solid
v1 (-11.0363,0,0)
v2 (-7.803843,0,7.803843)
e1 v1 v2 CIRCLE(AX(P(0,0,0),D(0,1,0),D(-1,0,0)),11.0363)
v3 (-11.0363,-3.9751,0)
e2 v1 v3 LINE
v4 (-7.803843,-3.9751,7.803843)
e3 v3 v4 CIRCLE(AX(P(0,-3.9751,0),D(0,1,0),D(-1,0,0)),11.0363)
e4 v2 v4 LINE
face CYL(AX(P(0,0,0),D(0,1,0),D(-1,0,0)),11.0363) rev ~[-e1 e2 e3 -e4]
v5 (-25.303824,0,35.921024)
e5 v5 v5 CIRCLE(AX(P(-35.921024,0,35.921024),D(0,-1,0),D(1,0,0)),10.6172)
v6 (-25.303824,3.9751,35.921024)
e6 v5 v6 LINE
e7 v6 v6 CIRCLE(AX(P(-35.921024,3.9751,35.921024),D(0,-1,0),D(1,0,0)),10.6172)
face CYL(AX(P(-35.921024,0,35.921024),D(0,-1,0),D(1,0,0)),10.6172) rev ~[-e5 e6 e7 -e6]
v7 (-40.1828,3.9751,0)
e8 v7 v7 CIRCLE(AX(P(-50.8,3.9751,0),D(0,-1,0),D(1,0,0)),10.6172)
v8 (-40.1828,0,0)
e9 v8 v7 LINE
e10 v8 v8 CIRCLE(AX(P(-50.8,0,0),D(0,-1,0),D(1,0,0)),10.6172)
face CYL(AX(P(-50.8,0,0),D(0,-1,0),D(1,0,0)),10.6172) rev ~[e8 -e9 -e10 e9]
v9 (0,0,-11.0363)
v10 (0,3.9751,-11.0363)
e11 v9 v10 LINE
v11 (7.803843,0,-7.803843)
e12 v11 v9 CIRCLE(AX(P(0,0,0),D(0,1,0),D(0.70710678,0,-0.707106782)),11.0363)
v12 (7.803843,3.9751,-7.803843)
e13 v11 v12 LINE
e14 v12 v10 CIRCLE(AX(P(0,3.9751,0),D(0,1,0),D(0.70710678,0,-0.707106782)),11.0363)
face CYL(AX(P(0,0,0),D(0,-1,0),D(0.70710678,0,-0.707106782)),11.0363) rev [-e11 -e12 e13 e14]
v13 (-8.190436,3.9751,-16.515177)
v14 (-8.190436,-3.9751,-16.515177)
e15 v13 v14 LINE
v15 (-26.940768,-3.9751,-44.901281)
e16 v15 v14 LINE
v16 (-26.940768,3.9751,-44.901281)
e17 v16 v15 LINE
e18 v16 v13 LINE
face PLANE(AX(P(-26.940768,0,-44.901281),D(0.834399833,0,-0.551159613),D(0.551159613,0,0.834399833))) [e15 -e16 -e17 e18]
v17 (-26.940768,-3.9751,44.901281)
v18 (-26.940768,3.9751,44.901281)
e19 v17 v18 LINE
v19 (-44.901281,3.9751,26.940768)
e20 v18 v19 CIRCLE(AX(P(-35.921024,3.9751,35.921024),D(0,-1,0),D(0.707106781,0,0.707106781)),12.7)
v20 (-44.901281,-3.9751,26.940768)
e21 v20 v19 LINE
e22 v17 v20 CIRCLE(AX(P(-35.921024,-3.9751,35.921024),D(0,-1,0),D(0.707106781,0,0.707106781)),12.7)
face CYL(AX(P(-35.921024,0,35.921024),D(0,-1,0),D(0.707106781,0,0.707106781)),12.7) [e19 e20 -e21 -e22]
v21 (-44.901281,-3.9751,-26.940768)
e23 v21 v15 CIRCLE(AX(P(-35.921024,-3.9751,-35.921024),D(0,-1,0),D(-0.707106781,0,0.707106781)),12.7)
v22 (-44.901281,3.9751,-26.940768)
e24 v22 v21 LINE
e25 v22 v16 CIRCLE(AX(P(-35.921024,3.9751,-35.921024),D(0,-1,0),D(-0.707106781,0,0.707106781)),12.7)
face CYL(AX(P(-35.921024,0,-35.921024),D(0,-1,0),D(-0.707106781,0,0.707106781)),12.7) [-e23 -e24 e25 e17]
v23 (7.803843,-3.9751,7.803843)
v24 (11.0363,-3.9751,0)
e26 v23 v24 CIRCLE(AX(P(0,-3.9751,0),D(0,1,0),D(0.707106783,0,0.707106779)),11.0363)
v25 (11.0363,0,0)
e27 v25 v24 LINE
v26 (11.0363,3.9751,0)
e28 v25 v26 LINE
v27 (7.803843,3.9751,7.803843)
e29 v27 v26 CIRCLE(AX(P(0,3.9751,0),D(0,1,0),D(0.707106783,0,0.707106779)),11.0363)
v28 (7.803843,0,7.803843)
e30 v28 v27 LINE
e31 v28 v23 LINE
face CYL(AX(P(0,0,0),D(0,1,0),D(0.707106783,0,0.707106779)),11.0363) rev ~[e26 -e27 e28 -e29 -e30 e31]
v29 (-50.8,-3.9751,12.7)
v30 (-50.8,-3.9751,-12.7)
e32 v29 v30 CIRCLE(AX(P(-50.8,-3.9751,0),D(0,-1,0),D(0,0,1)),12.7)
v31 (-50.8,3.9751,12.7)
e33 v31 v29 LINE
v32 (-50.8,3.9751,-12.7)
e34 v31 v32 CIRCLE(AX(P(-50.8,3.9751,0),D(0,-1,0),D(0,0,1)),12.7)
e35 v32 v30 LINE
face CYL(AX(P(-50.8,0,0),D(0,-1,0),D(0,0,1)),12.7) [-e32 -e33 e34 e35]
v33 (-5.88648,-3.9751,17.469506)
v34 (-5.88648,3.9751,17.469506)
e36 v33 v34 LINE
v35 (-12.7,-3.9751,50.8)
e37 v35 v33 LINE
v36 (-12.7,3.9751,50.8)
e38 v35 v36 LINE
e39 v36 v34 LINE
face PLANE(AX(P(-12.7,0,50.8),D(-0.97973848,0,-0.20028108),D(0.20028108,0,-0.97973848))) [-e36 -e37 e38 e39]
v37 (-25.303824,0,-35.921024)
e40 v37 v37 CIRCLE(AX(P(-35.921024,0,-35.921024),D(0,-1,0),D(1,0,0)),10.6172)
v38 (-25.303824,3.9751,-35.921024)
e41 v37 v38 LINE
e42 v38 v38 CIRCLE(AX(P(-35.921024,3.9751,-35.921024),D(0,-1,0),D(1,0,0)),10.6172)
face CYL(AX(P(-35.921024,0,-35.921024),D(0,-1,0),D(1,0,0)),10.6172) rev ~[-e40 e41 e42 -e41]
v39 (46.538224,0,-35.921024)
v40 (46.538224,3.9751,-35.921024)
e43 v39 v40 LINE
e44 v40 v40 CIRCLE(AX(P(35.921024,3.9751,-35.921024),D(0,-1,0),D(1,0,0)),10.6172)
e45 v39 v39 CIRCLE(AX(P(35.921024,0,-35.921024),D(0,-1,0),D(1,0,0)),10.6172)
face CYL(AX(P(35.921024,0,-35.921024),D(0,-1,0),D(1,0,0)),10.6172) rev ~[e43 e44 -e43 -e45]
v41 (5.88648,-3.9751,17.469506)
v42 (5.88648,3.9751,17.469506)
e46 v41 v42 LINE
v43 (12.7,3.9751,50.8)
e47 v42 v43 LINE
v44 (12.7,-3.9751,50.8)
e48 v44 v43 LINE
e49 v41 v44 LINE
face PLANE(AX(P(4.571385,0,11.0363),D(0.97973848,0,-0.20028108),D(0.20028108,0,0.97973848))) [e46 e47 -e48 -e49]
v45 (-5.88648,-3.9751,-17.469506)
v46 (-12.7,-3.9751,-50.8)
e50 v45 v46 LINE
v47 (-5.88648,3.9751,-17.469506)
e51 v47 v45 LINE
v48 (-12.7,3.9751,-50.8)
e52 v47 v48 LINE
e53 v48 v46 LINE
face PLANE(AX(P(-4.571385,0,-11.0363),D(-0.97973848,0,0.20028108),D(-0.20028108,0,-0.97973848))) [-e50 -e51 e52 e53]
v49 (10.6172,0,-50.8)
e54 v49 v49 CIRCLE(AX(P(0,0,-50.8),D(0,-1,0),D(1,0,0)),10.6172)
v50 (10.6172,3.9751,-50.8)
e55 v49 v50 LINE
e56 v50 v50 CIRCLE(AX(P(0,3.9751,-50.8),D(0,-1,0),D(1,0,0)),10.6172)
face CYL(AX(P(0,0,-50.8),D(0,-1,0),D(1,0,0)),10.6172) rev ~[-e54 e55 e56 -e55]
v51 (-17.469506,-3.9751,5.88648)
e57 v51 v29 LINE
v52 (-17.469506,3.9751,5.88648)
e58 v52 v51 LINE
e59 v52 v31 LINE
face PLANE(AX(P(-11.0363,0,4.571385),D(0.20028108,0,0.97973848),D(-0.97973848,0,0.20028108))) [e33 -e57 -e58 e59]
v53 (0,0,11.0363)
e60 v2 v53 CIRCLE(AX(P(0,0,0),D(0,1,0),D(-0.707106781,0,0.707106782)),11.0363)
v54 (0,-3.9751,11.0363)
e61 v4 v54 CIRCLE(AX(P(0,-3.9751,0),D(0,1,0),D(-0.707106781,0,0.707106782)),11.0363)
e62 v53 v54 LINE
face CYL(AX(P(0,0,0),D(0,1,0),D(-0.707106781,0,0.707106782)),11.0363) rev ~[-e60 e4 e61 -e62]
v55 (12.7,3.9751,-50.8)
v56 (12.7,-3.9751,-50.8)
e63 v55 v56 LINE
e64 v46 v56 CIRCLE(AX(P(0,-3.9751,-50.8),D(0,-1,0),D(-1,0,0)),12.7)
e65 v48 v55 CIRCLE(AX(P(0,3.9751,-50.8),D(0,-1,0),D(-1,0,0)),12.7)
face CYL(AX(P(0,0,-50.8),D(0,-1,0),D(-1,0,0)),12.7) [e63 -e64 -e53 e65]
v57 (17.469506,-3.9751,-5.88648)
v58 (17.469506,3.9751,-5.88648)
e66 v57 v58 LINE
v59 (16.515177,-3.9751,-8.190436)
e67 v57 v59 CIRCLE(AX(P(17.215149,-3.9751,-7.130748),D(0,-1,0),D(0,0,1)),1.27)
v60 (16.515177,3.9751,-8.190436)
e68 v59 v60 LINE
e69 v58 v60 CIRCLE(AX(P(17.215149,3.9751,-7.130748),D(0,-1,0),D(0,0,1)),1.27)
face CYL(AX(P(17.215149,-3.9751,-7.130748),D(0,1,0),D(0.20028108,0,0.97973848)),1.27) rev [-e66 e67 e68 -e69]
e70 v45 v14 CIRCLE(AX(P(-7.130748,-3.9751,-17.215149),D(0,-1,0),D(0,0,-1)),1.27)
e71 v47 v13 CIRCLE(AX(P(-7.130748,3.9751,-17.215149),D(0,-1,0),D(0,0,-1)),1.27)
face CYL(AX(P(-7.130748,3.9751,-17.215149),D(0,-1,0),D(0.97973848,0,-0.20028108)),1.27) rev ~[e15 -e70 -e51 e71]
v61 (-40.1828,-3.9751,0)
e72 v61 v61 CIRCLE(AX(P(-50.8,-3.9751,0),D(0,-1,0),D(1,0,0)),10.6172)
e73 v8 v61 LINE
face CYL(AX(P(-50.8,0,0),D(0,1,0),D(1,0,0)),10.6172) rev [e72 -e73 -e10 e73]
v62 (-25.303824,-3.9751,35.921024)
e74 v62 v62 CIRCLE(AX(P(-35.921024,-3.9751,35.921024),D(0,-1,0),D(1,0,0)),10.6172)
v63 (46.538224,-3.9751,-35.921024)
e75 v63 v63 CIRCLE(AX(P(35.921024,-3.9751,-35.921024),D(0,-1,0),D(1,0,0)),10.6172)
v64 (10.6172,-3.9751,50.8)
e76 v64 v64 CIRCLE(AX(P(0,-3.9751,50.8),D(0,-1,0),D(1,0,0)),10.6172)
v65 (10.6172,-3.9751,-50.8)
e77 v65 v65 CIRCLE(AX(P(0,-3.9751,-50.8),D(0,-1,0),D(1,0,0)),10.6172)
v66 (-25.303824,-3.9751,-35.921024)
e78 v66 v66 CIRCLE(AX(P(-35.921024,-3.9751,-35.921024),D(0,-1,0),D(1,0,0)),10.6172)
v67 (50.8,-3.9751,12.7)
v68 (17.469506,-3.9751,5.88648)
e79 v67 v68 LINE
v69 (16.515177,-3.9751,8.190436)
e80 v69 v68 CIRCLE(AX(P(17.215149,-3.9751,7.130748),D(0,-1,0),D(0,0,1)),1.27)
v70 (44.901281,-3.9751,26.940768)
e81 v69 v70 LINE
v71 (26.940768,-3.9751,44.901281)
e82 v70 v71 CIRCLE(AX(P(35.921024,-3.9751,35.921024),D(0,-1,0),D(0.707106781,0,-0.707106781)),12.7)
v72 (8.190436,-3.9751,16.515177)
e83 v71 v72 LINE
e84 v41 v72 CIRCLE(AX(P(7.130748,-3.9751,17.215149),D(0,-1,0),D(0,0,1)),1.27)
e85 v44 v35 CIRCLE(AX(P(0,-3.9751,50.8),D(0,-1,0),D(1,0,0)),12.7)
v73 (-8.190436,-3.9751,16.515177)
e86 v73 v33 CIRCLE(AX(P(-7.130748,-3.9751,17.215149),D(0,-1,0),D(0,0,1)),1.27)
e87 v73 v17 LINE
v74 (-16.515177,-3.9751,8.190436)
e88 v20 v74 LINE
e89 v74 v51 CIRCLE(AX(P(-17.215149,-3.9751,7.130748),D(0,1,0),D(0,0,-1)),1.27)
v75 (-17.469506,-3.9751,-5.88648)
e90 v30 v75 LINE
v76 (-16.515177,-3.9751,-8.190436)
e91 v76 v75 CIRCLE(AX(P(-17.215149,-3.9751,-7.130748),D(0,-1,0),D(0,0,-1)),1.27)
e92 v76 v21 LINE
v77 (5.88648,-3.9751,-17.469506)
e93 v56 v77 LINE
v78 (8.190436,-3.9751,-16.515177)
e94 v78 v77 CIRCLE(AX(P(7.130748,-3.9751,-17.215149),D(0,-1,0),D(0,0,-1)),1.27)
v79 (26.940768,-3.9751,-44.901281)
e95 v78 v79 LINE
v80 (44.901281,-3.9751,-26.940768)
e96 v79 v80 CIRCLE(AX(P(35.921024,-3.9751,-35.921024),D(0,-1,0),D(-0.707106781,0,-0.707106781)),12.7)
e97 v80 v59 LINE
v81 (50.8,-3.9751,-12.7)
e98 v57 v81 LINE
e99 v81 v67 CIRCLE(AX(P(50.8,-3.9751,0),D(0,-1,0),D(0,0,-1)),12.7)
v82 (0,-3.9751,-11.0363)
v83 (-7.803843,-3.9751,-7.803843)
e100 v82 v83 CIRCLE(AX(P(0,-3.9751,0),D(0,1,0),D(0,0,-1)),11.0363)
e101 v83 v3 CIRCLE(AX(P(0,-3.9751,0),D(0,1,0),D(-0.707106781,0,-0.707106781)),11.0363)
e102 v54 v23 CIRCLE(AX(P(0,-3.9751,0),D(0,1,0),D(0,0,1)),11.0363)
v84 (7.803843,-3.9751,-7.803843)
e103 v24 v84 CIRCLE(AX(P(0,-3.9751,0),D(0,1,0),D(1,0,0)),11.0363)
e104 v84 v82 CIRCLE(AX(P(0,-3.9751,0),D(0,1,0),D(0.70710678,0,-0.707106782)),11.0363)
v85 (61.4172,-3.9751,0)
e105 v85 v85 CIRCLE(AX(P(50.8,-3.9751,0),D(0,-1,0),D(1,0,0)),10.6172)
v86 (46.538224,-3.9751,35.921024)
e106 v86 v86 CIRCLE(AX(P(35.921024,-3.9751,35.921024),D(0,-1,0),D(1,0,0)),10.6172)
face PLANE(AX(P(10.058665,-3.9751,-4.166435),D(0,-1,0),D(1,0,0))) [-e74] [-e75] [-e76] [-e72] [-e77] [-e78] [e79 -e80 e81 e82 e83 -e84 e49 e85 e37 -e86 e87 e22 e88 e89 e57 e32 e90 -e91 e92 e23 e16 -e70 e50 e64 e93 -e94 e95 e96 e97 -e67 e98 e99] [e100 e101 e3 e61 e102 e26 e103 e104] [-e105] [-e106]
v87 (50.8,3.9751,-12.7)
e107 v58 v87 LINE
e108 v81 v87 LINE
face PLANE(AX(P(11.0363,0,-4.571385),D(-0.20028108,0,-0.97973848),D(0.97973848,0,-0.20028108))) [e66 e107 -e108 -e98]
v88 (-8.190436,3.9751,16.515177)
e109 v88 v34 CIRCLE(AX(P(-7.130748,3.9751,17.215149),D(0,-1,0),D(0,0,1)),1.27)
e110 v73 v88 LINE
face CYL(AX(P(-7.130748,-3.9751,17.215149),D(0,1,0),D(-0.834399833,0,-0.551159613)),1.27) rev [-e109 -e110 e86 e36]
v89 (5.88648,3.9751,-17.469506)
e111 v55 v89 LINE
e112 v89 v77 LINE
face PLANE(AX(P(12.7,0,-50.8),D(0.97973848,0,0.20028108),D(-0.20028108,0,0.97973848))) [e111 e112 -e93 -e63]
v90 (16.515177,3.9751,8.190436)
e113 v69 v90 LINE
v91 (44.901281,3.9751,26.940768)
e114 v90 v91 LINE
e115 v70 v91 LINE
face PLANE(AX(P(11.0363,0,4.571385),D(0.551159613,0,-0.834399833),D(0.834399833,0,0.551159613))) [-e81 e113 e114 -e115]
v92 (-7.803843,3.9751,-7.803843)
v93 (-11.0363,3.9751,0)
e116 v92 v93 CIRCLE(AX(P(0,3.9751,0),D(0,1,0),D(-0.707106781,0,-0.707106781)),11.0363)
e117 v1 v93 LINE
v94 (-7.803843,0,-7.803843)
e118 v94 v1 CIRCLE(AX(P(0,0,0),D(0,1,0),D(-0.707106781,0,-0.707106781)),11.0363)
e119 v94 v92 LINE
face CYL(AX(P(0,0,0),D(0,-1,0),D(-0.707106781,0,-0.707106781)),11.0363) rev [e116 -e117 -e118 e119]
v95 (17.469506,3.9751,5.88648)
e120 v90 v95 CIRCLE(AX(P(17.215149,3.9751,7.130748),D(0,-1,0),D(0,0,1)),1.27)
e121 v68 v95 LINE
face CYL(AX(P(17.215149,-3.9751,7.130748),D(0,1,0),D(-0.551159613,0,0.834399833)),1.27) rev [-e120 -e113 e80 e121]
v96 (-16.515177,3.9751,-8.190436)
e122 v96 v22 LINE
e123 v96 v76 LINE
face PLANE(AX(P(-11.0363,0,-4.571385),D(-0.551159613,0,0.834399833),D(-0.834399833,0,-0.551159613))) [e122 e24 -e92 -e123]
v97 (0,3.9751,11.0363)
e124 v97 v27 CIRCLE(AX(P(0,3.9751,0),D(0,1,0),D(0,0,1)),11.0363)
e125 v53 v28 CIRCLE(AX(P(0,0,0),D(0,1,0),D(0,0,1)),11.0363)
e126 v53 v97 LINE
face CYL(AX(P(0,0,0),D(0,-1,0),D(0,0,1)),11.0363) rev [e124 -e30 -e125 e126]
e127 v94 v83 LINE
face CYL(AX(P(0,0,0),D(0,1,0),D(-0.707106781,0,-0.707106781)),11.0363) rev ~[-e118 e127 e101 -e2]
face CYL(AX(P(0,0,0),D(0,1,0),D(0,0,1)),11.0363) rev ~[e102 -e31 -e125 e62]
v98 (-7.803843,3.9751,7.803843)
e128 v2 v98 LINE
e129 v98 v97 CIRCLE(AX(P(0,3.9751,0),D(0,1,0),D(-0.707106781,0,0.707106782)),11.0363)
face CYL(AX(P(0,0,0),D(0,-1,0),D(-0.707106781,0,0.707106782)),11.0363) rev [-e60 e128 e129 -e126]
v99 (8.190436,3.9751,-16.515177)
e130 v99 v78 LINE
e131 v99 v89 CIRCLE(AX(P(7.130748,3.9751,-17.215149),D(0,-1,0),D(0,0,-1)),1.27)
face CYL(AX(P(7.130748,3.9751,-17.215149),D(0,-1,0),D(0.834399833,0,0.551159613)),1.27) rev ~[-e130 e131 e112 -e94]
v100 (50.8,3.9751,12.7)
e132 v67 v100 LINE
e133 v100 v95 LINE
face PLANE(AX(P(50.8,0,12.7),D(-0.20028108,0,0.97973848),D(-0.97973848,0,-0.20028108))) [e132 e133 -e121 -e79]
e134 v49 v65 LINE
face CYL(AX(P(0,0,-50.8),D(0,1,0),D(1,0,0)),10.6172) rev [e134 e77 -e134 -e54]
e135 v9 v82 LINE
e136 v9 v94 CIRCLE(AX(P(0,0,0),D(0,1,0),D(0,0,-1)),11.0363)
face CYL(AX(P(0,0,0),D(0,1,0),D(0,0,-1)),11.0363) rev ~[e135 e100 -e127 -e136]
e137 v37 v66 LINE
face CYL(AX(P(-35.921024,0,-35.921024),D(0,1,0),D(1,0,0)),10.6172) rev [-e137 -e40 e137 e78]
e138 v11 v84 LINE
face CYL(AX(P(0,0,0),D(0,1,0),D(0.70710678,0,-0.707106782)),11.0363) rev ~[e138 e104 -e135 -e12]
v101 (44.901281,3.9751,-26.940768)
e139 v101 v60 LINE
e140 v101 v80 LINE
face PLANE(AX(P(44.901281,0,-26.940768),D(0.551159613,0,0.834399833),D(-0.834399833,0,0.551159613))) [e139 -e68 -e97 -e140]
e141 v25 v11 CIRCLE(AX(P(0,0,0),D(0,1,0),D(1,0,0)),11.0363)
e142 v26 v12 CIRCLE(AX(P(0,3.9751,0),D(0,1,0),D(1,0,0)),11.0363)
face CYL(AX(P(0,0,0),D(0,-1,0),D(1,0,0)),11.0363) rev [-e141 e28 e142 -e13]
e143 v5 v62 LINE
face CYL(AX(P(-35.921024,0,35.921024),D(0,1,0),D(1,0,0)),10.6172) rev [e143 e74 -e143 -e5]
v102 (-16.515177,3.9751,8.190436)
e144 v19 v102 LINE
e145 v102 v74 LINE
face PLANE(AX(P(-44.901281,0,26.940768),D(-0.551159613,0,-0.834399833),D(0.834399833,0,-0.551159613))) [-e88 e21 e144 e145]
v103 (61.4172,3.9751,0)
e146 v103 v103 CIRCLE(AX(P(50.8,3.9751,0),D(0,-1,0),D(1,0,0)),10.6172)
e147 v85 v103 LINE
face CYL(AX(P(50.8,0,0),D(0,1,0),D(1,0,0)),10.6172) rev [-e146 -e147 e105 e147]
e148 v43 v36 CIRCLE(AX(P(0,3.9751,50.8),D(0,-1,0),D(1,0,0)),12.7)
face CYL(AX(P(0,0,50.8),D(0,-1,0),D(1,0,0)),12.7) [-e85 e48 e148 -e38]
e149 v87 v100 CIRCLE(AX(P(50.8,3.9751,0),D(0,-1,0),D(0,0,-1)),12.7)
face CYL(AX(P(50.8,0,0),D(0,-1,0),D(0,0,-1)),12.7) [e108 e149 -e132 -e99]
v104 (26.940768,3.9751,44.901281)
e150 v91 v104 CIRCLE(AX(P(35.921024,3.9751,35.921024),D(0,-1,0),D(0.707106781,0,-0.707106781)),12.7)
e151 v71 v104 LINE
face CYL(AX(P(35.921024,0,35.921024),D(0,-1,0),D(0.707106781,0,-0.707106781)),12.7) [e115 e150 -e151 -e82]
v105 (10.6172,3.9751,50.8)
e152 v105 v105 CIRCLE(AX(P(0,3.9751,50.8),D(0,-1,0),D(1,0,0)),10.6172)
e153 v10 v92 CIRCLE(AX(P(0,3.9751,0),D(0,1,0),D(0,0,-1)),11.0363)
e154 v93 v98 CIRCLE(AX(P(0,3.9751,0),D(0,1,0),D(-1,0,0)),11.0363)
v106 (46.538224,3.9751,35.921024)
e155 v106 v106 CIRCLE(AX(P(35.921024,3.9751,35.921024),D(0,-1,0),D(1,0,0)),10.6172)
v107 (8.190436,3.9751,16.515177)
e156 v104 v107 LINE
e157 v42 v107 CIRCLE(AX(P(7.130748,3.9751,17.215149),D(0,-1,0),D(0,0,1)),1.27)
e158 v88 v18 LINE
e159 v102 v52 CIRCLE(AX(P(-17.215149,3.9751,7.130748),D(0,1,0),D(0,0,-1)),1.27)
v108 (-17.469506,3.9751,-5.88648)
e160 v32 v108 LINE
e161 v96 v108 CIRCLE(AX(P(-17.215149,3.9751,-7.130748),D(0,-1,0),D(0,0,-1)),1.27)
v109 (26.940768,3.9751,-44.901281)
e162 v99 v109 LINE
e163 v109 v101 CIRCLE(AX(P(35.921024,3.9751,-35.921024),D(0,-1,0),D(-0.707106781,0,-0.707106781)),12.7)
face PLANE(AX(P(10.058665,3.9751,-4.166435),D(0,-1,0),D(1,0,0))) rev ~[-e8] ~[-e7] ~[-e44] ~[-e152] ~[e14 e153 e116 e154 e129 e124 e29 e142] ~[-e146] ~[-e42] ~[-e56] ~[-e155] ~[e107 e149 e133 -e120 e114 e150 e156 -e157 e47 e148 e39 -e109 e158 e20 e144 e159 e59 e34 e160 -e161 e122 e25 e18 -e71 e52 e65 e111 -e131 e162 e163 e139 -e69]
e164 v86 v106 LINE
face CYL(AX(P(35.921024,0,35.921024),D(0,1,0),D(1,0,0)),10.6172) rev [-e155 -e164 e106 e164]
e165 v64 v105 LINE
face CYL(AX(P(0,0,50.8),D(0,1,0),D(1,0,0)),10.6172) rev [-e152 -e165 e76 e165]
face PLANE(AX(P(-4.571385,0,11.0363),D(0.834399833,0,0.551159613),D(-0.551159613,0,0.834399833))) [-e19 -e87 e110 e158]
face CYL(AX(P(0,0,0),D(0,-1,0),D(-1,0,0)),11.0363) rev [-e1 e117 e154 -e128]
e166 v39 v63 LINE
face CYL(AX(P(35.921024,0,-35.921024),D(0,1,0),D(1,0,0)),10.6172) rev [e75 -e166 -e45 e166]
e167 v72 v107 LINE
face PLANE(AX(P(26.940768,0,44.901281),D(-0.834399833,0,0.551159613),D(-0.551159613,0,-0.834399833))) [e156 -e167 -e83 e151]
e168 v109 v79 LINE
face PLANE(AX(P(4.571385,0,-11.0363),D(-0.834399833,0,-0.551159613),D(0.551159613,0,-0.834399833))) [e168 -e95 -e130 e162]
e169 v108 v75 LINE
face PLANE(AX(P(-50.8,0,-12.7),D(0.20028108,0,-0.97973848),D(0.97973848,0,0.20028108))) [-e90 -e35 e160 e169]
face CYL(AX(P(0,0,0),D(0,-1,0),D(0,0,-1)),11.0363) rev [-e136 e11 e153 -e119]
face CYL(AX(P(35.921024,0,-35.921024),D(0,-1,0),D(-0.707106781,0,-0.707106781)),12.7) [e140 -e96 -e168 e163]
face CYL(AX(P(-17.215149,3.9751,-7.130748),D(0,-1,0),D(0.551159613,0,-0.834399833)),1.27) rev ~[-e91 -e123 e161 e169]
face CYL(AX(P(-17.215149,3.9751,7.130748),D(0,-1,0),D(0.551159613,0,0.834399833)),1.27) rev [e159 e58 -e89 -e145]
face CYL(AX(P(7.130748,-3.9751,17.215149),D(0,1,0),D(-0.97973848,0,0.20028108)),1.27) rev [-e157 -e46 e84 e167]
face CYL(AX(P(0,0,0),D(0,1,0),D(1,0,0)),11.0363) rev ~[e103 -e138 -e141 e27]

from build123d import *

# Parameters (mm, degrees)
F0_R     = 10.6172
F1_DEPTH = 3.9751
F2_R     = 1.27


with BuildPart() as f1:
    # F0 (on Front) → F1 (new body, symmetric)
    with BuildSketch(Plane.XZ):
        with BuildLine():
            Line((11.0363, -4.5713851384), (11.0363, 0))
            ThreePointArc((11.0363, 0), (10.1962116818, -4.2234091715), (7.8038425587, -7.8038425798))
            Line((7.8038425587, -7.8038425798), (11.0363, -4.5713851384))
        make_face()
        with BuildLine():
            ThreePointArc((7.8038425896, 7.8038425488), (10.1962116902, 4.2234091513), (11.0363, 0))
            Line((11.0363, 0), (11.0363, 4.5713851384))
            Line((11.0363, 4.5713851384), (7.8038425896, 7.8038425488))
        make_face()
        with BuildLine():
            Line((11.0363, 4.5713851384), (11.0363, 0))
            Line((11.0363, 0), (11.0363, -4.5713851384))
            Line((11.0363, -4.5713851384), (50.8, -12.7))
            ThreePointArc((50.8, -12.7), (63.5, 0), (50.8, 12.7))
            Line((50.8, 12.7), (11.0363, 4.5713851384))
        make_face()
        with Locations((50.8, 0)):
            Circle(F0_R, mode=Mode.SUBTRACT)
        with BuildLine():
            ThreePointArc((0, 11.0363), (4.2234091779, 10.1962116791), (7.8038425896, 7.8038425488))
            Line((7.8038425896, 7.8038425488), (4.5713851384, 11.0363))
            Line((4.5713851384, 11.0363), (0, 11.0363))
        make_face()
        with BuildLine():
            Line((4.5713851384, 11.0363), (7.8038425896, 7.8038425488))
            Line((7.8038425896, 7.8038425488), (11.0363, 4.5713851384))
            Line((11.0363, 4.5713851384), (44.9012806053, 26.9407683632))
            ThreePointArc((44.9012806053, 26.9407683632), (44.9012806053, 44.9012806053), (26.9407683632, 44.9012806053))
            Line((26.9407683632, 44.9012806053), (4.5713851384, 11.0363))
        make_face()
        with Locations((35.9210244843, 35.9210244843)):
            Circle(F0_R, mode=Mode.SUBTRACT)
        with BuildLine():
            Line((4.5713851384, -11.0363), (7.8038425587, -7.8038425798))
            ThreePointArc((7.8038425587, -7.8038425798), (4.2234091577, -10.1962116875), (0, -11.0363))
            Line((0, -11.0363), (4.5713851384, -11.0363))
        make_face()
        with BuildLine():
            Line((11.0363, -4.5713851384), (7.8038425587, -7.8038425798))
            Line((7.8038425587, -7.8038425798), (4.5713851384, -11.0363))
            Line((4.5713851384, -11.0363), (26.9407683632, -44.9012806053))
            ThreePointArc((26.9407683632, -44.9012806053), (44.9012806053, -44.9012806053), (44.9012806053, -26.9407683632))
            Line((44.9012806053, -26.9407683632), (11.0363, -4.5713851384))
        make_face()
        with Locations((35.9210244843, -35.9210244843)):
            Circle(F0_R, mode=Mode.SUBTRACT)
        with BuildLine():
            ThreePointArc((-7.8038425634, 7.803842575), (-4.2234091608, 10.1962116862), (0, 11.0363))
            Line((0, 11.0363), (-4.5713851384, 11.0363))
            Line((-4.5713851384, 11.0363), (-7.8038425634, 7.803842575))
        make_face()
        with BuildLine():
            Line((-4.5713851384, 11.0363), (0, 11.0363))
            Line((0, 11.0363), (4.5713851384, 11.0363))
            Line((4.5713851384, 11.0363), (12.7, 50.8))
            ThreePointArc((12.7, 50.8), (0, 63.5), (-12.7, 50.8))
            Line((-12.7, 50.8), (-4.5713851384, 11.0363))
        make_face()
        with Locations((0, 50.8)):
            Circle(F0_R, mode=Mode.SUBTRACT)
        with BuildLine():
            Line((-4.5713851384, -11.0363), (0, -11.0363))
            ThreePointArc((0, -11.0363), (-4.2234091646, -10.1962116847), (-7.8038425692, -7.8038425692))
            Line((-7.8038425692, -7.8038425692), (-4.5713851384, -11.0363))
        make_face()
        with BuildLine():
            Line((4.5713851384, -11.0363), (0, -11.0363))
            Line((0, -11.0363), (-4.5713851384, -11.0363))
            Line((-4.5713851384, -11.0363), (-12.7, -50.8))
            ThreePointArc((-12.7, -50.8), (0, -63.5), (12.7, -50.8))
            Line((12.7, -50.8), (4.5713851384, -11.0363))
        make_face()
        with Locations((0, -50.8)):
            Circle(F0_R, mode=Mode.SUBTRACT)
        with BuildLine():
            ThreePointArc((-11.0363, 0), (-10.1962116831, 4.2234091684), (-7.8038425634, 7.803842575))
            Line((-7.8038425634, 7.803842575), (-11.0363, 4.5713851384))
            Line((-11.0363, 4.5713851384), (-11.0363, 0))
        make_face()
        with BuildLine():
            Line((-11.0363, 4.5713851384), (-7.8038425634, 7.803842575))
            Line((-7.8038425634, 7.803842575), (-4.5713851384, 11.0363))
            Line((-4.5713851384, 11.0363), (-26.9407683632, 44.9012806053))
            ThreePointArc((-26.9407683632, 44.9012806053), (-44.9012806053, 44.9012806053), (-44.9012806053, 26.9407683632))
            Line((-44.9012806053, 26.9407683632), (-11.0363, 4.5713851384))
        make_face()
        with Locations((-35.9210244843, 35.9210244843)):
            Circle(F0_R, mode=Mode.SUBTRACT)
        with BuildLine():
            Line((-11.0363, -4.5713851384), (-7.8038425692, -7.8038425692))
            ThreePointArc((-7.8038425692, -7.8038425692), (-10.1962116847, -4.2234091646), (-11.0363, 0))
            Line((-11.0363, 0), (-11.0363, -4.5713851384))
        make_face()
        with BuildLine():
            Line((-4.5713851384, -11.0363), (-7.8038425692, -7.8038425692))
            Line((-7.8038425692, -7.8038425692), (-11.0363, -4.5713851384))
            Line((-11.0363, -4.5713851384), (-44.9012806053, -26.9407683632))
            ThreePointArc((-44.9012806053, -26.9407683632), (-44.9012806053, -44.9012806053), (-26.9407683632, -44.9012806053))
            Line((-26.9407683632, -44.9012806053), (-4.5713851384, -11.0363))
        make_face()
        with Locations((-35.9210244843, -35.9210244843)):
            Circle(F0_R, mode=Mode.SUBTRACT)
        with BuildLine():
            Line((-11.0363, -4.5713851384), (-11.0363, 0))
            Line((-11.0363, 0), (-11.0363, 4.5713851384))
            Line((-11.0363, 4.5713851384), (-50.8, 12.7))
            ThreePointArc((-50.8, 12.7), (-63.5, 0), (-50.8, -12.7))
            Line((-50.8, -12.7), (-11.0363, -4.5713851384))
        make_face()
        with Locations((-50.8, 0)):
            Circle(F0_R, mode=Mode.SUBTRACT)
    extrude(amount=F1_DEPTH, both=True)

    # F2
    f2_edges = [f1.edges().sort_by_distance(p)[0] for p in [
        (4.571385, 0, 11.0363),
        (-4.571385, 0, 11.0363),
        (-11.0363, 0, 4.571385),
        (-11.0363, 0, -4.571385),
        (-4.571385, 0, -11.0363),
        (4.571385, 0, -11.0363),
        (11.0363, 0, -4.571385),
        (11.0363, 0, 4.571385),
    ]]
    fillet(f2_edges, radius=F2_R)


solid = f1.part
